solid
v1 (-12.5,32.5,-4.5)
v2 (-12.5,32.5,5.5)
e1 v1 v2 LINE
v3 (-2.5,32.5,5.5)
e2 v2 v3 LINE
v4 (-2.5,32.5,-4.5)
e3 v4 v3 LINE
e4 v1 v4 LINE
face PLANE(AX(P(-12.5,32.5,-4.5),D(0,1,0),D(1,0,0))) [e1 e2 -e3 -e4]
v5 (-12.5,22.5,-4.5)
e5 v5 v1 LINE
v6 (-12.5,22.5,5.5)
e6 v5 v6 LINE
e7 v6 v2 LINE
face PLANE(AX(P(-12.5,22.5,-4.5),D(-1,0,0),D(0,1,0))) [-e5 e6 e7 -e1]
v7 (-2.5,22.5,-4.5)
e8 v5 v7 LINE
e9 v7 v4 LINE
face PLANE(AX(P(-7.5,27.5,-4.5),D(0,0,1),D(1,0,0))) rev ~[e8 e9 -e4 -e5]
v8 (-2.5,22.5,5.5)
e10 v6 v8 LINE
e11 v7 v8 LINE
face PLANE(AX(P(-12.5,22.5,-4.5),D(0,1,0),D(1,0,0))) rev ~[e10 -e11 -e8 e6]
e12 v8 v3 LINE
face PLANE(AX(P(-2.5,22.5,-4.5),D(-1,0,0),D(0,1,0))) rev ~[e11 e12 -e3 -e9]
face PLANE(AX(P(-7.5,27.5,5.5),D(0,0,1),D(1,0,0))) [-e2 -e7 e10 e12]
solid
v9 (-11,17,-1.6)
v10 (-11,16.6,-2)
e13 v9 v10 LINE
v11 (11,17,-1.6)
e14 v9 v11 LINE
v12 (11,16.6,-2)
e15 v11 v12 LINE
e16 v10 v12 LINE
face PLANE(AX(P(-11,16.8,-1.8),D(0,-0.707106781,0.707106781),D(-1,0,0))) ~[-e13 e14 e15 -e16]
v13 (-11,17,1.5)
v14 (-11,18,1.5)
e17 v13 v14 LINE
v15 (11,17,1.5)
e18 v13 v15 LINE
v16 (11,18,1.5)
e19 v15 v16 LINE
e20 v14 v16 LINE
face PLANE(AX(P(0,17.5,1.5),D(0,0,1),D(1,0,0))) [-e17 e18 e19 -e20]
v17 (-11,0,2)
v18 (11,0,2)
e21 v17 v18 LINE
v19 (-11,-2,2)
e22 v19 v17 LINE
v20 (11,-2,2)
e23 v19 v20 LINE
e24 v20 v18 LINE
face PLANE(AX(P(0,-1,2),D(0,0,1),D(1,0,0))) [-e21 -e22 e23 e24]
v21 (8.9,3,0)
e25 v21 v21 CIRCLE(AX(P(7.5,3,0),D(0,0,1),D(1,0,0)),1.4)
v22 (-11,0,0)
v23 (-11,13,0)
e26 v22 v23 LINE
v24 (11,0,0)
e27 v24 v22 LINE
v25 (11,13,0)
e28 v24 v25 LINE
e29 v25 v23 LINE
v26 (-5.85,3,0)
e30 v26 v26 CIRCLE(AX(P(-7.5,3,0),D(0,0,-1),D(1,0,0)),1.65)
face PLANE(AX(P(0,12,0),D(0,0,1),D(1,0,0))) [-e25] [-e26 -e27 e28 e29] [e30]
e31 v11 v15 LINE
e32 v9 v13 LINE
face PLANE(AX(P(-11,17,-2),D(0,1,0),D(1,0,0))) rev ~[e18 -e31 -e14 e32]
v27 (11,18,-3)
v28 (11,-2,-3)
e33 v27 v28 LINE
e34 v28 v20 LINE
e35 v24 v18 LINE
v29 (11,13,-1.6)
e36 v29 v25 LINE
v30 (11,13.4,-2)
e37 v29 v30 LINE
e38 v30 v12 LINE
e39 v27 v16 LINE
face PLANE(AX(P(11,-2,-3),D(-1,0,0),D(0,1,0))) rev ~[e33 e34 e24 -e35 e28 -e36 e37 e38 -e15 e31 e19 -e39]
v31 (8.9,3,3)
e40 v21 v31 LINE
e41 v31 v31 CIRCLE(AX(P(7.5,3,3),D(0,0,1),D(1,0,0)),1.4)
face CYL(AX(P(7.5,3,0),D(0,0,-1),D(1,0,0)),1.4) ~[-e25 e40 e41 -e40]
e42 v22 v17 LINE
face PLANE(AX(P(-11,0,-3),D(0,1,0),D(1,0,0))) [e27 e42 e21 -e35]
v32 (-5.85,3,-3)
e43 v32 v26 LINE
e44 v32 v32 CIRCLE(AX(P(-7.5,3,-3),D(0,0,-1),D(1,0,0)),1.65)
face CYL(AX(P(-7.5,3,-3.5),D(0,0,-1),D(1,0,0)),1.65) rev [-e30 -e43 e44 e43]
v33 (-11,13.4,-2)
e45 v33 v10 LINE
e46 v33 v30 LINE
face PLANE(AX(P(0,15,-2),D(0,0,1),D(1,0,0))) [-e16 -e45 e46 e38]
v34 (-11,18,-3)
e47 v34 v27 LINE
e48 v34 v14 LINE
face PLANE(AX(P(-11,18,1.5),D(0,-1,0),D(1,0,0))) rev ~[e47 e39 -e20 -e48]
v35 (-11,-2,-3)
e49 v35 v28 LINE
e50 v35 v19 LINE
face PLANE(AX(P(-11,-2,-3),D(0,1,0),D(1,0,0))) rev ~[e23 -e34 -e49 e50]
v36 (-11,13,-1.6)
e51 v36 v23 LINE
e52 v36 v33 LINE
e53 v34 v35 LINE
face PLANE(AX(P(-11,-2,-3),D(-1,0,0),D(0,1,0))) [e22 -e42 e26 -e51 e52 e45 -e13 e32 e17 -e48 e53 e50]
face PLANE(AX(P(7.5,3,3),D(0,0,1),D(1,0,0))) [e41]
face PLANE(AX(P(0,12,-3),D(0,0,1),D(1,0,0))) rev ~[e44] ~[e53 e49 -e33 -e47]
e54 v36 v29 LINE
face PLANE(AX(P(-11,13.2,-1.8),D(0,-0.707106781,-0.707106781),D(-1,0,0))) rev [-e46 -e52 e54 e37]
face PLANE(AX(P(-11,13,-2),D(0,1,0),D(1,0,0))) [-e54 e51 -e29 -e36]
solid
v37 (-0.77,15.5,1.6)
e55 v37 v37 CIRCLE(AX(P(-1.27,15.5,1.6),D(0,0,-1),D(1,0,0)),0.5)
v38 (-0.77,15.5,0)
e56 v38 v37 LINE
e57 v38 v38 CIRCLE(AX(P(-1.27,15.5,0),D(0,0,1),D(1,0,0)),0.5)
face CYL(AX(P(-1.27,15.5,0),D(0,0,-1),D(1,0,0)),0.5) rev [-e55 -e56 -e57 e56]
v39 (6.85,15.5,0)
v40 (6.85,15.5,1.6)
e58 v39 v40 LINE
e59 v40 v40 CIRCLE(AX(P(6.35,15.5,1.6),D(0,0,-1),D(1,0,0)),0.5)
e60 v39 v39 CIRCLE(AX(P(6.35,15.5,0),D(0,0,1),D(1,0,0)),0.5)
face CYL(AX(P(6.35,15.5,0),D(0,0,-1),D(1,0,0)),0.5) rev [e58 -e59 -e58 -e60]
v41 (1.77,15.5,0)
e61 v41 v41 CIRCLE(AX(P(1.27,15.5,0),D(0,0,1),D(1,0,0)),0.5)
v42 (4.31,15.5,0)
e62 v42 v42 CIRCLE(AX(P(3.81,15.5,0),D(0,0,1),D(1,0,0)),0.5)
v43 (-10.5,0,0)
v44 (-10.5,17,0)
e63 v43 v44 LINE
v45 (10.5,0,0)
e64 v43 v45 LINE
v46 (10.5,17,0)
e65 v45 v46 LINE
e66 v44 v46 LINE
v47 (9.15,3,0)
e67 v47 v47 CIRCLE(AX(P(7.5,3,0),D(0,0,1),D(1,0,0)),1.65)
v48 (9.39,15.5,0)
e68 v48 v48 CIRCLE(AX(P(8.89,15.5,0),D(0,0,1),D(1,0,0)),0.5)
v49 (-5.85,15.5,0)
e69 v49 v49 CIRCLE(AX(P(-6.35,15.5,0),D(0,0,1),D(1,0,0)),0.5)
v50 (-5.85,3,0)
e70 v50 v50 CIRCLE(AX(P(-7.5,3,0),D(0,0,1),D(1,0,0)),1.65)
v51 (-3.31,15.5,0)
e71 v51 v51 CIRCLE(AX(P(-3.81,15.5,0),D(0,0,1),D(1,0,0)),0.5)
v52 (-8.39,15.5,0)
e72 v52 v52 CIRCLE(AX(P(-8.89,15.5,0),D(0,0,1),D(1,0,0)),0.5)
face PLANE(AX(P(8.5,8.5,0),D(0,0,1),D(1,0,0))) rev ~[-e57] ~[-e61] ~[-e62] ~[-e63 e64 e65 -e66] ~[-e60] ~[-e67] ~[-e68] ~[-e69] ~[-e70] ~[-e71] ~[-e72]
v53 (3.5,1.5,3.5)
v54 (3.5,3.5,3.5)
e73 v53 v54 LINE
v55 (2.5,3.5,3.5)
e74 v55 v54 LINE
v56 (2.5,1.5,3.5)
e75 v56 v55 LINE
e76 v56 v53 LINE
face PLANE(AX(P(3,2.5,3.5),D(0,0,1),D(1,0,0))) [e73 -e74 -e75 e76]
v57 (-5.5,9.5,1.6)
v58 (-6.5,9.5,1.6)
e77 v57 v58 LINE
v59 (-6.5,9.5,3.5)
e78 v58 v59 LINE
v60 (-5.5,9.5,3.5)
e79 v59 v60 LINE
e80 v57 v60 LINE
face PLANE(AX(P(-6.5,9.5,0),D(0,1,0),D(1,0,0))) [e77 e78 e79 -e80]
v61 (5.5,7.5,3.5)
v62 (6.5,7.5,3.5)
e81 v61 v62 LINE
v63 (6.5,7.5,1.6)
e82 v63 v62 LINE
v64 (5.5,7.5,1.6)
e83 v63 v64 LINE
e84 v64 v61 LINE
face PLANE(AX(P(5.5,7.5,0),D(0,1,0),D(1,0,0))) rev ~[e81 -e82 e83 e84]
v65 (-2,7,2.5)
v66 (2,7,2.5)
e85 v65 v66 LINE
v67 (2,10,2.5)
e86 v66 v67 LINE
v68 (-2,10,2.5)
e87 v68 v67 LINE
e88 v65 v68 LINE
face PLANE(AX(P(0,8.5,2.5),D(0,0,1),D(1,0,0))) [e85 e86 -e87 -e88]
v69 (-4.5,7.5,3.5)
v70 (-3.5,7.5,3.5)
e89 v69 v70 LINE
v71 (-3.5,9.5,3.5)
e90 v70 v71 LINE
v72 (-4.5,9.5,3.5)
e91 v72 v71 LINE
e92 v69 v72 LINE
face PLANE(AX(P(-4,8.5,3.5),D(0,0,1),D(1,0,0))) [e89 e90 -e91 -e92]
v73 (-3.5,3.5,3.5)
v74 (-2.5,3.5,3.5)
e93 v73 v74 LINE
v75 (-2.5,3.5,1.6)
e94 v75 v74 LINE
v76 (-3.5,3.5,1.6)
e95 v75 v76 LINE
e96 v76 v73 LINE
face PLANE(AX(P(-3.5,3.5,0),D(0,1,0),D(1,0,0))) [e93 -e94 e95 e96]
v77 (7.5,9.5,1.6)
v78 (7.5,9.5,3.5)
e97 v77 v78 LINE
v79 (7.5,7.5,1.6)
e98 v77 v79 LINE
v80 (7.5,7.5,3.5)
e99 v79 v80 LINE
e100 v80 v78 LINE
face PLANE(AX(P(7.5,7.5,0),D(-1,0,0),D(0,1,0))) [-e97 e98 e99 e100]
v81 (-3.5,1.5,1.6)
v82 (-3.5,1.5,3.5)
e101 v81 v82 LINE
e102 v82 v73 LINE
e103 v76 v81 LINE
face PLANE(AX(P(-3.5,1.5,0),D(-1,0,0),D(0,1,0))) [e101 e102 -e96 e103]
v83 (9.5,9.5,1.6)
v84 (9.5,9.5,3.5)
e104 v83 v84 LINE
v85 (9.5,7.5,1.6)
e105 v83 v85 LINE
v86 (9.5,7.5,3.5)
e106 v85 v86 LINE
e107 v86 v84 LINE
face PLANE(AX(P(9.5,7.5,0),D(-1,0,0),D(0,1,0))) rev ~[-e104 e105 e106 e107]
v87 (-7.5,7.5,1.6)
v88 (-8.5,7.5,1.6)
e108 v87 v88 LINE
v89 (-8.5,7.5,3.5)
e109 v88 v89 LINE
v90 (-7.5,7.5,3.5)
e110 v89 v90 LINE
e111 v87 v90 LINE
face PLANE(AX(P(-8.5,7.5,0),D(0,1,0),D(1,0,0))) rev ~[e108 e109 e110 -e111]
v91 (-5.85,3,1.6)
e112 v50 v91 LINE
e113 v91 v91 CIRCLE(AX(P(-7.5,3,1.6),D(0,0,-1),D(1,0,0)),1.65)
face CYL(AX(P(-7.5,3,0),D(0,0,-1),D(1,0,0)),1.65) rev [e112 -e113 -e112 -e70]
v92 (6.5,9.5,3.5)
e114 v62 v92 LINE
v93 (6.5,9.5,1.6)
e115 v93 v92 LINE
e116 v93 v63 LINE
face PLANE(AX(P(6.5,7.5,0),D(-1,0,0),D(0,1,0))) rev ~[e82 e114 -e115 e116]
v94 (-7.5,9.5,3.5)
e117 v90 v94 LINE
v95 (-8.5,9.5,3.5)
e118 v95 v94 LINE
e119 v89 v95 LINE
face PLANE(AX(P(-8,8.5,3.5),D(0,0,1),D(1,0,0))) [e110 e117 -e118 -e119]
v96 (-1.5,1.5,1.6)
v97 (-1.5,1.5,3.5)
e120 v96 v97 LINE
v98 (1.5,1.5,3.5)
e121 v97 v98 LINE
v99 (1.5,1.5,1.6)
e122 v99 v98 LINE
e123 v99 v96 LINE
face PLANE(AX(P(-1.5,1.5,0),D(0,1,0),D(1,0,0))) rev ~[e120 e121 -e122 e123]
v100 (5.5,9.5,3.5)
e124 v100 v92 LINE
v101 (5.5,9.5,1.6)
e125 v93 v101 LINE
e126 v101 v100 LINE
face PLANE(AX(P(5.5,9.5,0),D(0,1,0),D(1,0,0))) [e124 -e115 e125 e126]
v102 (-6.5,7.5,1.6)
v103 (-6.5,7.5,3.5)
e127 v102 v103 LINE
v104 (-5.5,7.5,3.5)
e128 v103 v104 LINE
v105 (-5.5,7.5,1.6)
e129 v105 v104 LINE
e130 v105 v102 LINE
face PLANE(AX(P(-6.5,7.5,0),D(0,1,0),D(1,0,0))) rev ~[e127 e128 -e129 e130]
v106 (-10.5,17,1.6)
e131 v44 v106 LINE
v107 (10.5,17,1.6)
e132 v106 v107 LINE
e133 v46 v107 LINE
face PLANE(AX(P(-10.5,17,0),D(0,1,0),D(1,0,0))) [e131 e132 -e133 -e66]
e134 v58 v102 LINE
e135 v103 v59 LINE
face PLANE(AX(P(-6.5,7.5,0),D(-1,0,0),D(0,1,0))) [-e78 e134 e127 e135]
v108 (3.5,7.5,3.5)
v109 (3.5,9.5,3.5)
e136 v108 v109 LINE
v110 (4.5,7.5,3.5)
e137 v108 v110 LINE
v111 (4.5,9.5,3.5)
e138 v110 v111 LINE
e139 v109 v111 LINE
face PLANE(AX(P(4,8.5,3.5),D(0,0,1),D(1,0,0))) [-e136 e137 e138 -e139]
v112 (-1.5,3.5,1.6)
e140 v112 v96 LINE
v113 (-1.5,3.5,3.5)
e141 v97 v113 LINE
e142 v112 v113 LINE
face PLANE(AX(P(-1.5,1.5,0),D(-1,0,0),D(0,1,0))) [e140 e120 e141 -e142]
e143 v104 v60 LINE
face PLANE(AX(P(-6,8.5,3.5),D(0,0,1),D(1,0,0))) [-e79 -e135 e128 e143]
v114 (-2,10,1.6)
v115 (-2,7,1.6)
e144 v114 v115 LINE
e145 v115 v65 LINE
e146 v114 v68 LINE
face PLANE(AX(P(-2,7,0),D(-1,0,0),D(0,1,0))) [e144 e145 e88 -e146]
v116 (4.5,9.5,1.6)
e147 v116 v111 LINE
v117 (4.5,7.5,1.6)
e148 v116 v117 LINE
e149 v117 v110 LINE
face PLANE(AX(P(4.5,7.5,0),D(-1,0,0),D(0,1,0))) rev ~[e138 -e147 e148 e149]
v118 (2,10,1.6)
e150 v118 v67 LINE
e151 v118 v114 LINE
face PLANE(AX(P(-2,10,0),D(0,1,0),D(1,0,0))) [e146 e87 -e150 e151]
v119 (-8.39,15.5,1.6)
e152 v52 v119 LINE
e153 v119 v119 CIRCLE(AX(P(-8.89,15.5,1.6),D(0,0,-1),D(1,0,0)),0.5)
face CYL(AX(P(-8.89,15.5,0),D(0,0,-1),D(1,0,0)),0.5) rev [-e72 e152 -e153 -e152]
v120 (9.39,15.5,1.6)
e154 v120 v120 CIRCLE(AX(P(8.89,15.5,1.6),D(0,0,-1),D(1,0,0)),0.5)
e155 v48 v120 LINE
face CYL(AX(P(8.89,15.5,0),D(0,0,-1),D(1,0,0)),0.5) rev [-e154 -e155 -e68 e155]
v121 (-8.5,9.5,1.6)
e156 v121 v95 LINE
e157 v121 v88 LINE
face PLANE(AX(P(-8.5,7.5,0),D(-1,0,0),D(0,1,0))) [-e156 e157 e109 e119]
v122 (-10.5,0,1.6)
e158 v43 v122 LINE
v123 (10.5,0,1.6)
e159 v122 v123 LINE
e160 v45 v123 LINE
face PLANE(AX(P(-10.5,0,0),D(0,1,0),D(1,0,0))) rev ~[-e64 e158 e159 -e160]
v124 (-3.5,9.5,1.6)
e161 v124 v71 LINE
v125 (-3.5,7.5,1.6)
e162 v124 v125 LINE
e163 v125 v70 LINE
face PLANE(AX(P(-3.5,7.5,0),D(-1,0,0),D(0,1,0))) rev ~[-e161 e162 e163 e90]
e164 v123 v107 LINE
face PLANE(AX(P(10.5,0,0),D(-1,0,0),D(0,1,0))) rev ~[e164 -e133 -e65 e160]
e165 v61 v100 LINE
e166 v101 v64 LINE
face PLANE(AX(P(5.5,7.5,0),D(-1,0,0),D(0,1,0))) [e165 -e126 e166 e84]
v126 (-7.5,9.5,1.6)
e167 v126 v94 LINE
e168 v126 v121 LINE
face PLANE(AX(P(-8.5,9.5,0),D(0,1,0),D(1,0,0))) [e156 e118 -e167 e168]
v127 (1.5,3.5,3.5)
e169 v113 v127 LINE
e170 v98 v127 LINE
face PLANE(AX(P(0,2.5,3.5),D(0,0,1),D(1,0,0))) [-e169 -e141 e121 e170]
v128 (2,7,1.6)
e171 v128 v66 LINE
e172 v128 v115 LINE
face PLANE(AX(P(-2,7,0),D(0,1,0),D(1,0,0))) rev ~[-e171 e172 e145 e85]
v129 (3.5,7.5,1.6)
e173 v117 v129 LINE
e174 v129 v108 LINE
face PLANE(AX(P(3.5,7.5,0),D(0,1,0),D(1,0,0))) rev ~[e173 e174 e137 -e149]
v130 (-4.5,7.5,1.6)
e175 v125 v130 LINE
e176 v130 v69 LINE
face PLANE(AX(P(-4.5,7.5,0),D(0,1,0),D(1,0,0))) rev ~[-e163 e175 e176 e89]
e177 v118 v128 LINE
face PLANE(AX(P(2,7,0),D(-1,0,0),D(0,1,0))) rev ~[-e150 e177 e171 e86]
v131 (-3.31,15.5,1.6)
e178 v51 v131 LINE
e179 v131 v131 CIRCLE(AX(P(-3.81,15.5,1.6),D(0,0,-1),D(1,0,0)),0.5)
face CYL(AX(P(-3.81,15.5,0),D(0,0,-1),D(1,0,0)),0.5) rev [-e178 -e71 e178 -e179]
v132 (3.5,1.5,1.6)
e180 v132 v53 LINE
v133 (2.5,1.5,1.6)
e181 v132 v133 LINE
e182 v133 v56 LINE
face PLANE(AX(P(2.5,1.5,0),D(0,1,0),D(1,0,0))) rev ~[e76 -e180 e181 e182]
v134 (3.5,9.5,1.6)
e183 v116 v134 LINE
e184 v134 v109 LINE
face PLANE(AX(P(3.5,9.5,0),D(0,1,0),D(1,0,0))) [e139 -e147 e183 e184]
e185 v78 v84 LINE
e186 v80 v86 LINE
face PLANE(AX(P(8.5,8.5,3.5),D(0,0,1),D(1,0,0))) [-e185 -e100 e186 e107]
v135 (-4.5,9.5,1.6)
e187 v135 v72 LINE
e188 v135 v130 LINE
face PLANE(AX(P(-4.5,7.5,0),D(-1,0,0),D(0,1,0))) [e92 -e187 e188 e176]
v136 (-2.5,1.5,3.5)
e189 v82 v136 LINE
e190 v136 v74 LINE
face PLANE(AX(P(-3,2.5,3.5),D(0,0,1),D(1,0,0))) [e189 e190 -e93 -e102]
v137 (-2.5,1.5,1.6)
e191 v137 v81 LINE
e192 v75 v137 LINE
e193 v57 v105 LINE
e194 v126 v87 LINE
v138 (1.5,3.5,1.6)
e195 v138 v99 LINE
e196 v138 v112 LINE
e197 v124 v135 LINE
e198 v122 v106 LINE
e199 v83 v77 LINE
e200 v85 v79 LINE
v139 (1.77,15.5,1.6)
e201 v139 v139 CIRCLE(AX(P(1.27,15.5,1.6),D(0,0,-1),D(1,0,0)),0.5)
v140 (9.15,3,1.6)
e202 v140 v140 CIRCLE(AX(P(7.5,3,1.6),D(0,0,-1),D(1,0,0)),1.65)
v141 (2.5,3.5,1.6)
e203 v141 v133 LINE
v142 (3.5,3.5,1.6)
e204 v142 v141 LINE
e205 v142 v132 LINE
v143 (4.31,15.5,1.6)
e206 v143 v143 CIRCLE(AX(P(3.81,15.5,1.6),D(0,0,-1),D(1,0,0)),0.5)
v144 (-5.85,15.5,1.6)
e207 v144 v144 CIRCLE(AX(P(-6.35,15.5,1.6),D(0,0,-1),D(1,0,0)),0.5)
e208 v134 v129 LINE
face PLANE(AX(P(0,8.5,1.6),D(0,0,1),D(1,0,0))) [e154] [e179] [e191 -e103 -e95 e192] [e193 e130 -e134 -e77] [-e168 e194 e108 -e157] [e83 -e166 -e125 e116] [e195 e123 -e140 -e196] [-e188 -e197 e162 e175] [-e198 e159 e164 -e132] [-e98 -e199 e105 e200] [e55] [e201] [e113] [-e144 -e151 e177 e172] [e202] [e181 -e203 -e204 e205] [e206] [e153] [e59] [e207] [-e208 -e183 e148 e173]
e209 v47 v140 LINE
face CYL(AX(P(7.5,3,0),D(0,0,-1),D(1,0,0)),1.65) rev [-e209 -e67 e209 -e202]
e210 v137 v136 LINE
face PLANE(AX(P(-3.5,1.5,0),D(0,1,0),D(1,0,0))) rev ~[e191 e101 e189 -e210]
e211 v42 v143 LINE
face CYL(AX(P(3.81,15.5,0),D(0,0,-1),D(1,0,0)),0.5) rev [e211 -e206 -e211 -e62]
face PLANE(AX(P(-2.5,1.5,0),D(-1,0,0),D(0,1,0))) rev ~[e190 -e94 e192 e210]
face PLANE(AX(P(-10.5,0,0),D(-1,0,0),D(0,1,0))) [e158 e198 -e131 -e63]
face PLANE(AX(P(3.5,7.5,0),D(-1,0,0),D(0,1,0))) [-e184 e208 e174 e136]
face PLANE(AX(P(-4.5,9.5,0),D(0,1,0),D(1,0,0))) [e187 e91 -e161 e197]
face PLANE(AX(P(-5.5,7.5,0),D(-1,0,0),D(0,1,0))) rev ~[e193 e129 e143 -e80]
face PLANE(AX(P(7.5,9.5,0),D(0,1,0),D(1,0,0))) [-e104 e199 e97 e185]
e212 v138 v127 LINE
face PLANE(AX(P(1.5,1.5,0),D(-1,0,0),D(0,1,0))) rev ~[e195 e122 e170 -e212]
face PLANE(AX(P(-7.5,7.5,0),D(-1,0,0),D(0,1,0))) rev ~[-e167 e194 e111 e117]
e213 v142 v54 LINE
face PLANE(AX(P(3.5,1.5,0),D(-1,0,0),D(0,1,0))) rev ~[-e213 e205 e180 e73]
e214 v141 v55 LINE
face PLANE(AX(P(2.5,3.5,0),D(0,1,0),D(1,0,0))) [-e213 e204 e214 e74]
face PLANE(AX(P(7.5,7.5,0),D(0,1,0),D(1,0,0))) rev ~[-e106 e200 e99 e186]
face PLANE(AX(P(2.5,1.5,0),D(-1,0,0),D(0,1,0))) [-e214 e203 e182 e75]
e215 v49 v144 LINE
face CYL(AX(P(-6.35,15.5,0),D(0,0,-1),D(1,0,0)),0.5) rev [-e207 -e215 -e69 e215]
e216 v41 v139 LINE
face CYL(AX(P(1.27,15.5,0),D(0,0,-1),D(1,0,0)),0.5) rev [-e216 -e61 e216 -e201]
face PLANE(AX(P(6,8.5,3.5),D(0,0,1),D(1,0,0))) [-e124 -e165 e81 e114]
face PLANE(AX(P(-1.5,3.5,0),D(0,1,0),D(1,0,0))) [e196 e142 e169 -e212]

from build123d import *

# Parameters (mm, degrees)
BOX016_W          = 10
BOX016_H          = 10
BOX016_DEPTH      = 10
BOX001_W          = 4
BOX001_H          = 3
BOX001_DEPTH      = 2.5
BOX002_W          = 3
BOX002_H          = 2
BOX002_DEPTH      = 3.5
BOX003_W          = 1
BOX003_H          = 2
BOX003_DEPTH      = 3.5
BOX004_W          = 1
BOX004_H          = 2
BOX004_DEPTH      = 3.5
BOX005_W          = 1
BOX005_H          = 2
BOX005_DEPTH      = 3.5
BOX006_W          = 1
BOX006_H          = 2
BOX006_DEPTH      = 3.5
BOX007_W          = 1
BOX007_H          = 2
BOX007_DEPTH      = 3.5
BOX008_W          = 1
BOX008_H          = 2
BOX008_DEPTH      = 3.5
BOX009_W          = 1
BOX009_H          = 2
BOX009_DEPTH      = 3.5
BOX010_W          = 2
BOX010_H          = 2
BOX010_DEPTH      = 3.5
CYLINDER007_R     = 0.5
CYLINDER007_DEPTH = 10
CYLINDER008_R     = 0.5
CYLINDER008_DEPTH = 10
CYLINDER006_R     = 0.5
CYLINDER006_DEPTH = 10
CYLINDER005_R     = 0.5
CYLINDER005_DEPTH = 10
CYLINDER004_R     = 0.5
CYLINDER004_DEPTH = 10
CYLINDER003_R     = 0.5
CYLINDER003_DEPTH = 10
CYLINDER002_R     = 0.5
CYLINDER002_DEPTH = 10
CYLINDER009_R     = 0.5
CYLINDER009_DEPTH = 10
CYLINDER001_R     = 1.65
CYLINDER001_DEPTH = 10
CYLINDER_R        = 1.65
CYLINDER_DEPTH    = 10
BOX_W             = 21
BOX_H             = 17
BOX_DEPTH         = 1.6
BOX018_W          = 6
BOX018_H          = 10
BOX018_DEPTH      = 10
BOX017_W          = 3.3
BOX017_H          = 10
BOX017_DEPTH      = 10
CYLINDER014_R     = 1.65
CYLINDER014_DEPTH = 10
CYLINDER011_R     = 3
CYLINDER011_DEPTH = 10
CYLINDER012_R     = 1.4
CYLINDER012_DEPTH = 3
CYLINDER013_R     = 1.65
CYLINDER013_DEPTH = 10
BOX014_W          = 16
BOX014_H          = 12
BOX014_DEPTH      = 10
BOX013_W          = 22
BOX013_H          = 4
BOX013_DEPTH      = 5
CHAMFER_SIZE      = 0.4
BOX011_W          = 22
BOX011_H          = 28
BOX011_DEPTH      = 3
BOX012_W          = 22
BOX012_H          = 2
BOX012_DEPTH      = 5
BOX015_W          = 22
BOX015_H          = 1
BOX015_DEPTH      = 1.5
CHAMFER001_SIZE   = 1
CHAMFER002_SIZE   = 0.4
SKETCH_W          = 7
SKETCH_H          = 8
POCKET_DEPTH      = 4.501


with BuildPart() as cube016:
    # Box016 → Box016 (new body)
    with BuildSketch(Plane(origin=(-12.5, 22.5, -4.5), x_dir=(1, 0, 0), z_dir=(0, 0, 1))):
        with Locations((5, 5)):
            Rectangle(BOX016_W, BOX016_H)
    extrude(amount=BOX016_DEPTH)


with BuildPart() as cube001:
    # Box001 → Box001 (new body)
    with BuildSketch(Plane(origin=(-2, 7, 0), x_dir=(1, 0, 0), z_dir=(0, 0, 1))):
        with Locations((2, 1.5)):
            Rectangle(BOX001_W, BOX001_H)
    extrude(amount=BOX001_DEPTH)


with BuildPart() as cube002:
    # Box002 → Box002 (new body)
    with BuildSketch(Plane(origin=(-1.5, 1.5, 0), x_dir=(1, 0, 0), z_dir=(0, 0, 1))):
        with Locations((1.5, 1)):
            Rectangle(BOX002_W, BOX002_H)
    extrude(amount=BOX002_DEPTH)


with BuildPart() as cube003:
    # Box003 → Box003 (new body)
    with BuildSketch(Plane(origin=(-3.5, 1.5, 0), x_dir=(1, 0, 0), z_dir=(0, 0, 1))):
        with Locations((0.5, 1)):
            Rectangle(BOX003_W, BOX003_H)
    extrude(amount=BOX003_DEPTH)


with BuildPart() as cube004:
    # Box004 → Box004 (new body)
    with BuildSketch(Plane(origin=(2.5, 1.5, 0), x_dir=(1, 0, 0), z_dir=(0, 0, 1))):
        with Locations((0.5, 1)):
            Rectangle(BOX004_W, BOX004_H)
    extrude(amount=BOX004_DEPTH)


with BuildPart() as cube005:
    # Box005 → Box005 (new body)
    with BuildSketch(Plane(origin=(-4.5, 7.5, 0), x_dir=(1, 0, 0), z_dir=(0, 0, 1))):
        with Locations((0.5, 1)):
            Rectangle(BOX005_W, BOX005_H)
    extrude(amount=BOX005_DEPTH)


with BuildPart() as cube006:
    # Box006 → Box006 (new body)
    with BuildSketch(Plane(origin=(-6.5, 7.5, 0), x_dir=(1, 0, 0), z_dir=(0, 0, 1))):
        with Locations((0.5, 1)):
            Rectangle(BOX006_W, BOX006_H)
    extrude(amount=BOX006_DEPTH)


with BuildPart() as cube007:
    # Box007 → Box007 (new body)
    with BuildSketch(Plane(origin=(-8.5, 7.5, 0), x_dir=(1, 0, 0), z_dir=(0, 0, 1))):
        with Locations((0.5, 1)):
            Rectangle(BOX007_W, BOX007_H)
    extrude(amount=BOX007_DEPTH)


with BuildPart() as cube008:
    # Box008 → Box008 (new body)
    with BuildSketch(Plane(origin=(3.5, 7.5, 0), x_dir=(1, 0, 0), z_dir=(0, 0, 1))):
        with Locations((0.5, 1)):
            Rectangle(BOX008_W, BOX008_H)
    extrude(amount=BOX008_DEPTH)


with BuildPart() as cube009:
    # Box009 → Box009 (new body)
    with BuildSketch(Plane(origin=(5.5, 7.5, 0), x_dir=(1, 0, 0), z_dir=(0, 0, 1))):
        with Locations((0.5, 1)):
            Rectangle(BOX009_W, BOX009_H)
    extrude(amount=BOX009_DEPTH)


with BuildPart() as cube010:
    # Box010 → Box010 (new body)
    with BuildSketch(Plane(origin=(7.5, 7.5, 0), x_dir=(1, 0, 0), z_dir=(0, 0, 1))):
        with Locations((1, 1)):
            Rectangle(BOX010_W, BOX010_H)
    extrude(amount=BOX010_DEPTH)


with BuildPart() as cylinder007:
    # Cylinder007 → Cylinder007 (new body)
    with BuildSketch(Plane(origin=(6.35, 15, 0), x_dir=(1, 0, 0), z_dir=(0, 0, 1))):
        Circle(CYLINDER007_R)
    extrude(amount=CYLINDER007_DEPTH)


with BuildPart() as cylinder008:
    # Cylinder008 → Cylinder008 (new body)
    with BuildSketch(Plane(origin=(8.89, 15, 0), x_dir=(1, 0, 0), z_dir=(0, 0, 1))):
        Circle(CYLINDER008_R)
    extrude(amount=CYLINDER008_DEPTH)


with BuildPart() as cylinder006:
    # Cylinder006 → Cylinder006 (new body)
    with BuildSketch(Plane(origin=(-6.35, 15, 0), x_dir=(1, 0, 0), z_dir=(0, 0, 1))):
        Circle(CYLINDER006_R)
    extrude(amount=CYLINDER006_DEPTH)


with BuildPart() as cylinder005:
    # Cylinder005 → Cylinder005 (new body)
    with BuildSketch(Plane(origin=(-3.81, 15, 0), x_dir=(1, 0, 0), z_dir=(0, 0, 1))):
        Circle(CYLINDER005_R)
    extrude(amount=CYLINDER005_DEPTH)


with BuildPart() as cylinder004:
    # Cylinder004 → Cylinder004 (new body)
    with BuildSketch(Plane(origin=(3.81, 15, 0), x_dir=(1, 0, 0), z_dir=(0, 0, 1))):
        Circle(CYLINDER004_R)
    extrude(amount=CYLINDER004_DEPTH)


with BuildPart() as cylinder003:
    # Cylinder003 → Cylinder003 (new body)
    with BuildSketch(Plane(origin=(1.27, 15, 0), x_dir=(1, 0, 0), z_dir=(0, 0, 1))):
        Circle(CYLINDER003_R)
    extrude(amount=CYLINDER003_DEPTH)


with BuildPart() as cylinder002:
    # Cylinder002 → Cylinder002 (new body)
    with BuildSketch(Plane(origin=(-1.27, 15, 0), x_dir=(1, 0, 0), z_dir=(0, 0, 1))):
        Circle(CYLINDER002_R)
    extrude(amount=CYLINDER002_DEPTH)


with BuildPart() as fusion001:
    # Cylinder009 → Cylinder009 (new body)
    with BuildSketch(Plane(origin=(-8.89, 15, 0), x_dir=(1, 0, 0), z_dir=(0, 0, 1))):
        Circle(CYLINDER009_R)
    extrude(amount=CYLINDER009_DEPTH)

    # Fusion001: union Cylinder007, Cylinder008, Cylinder006, Cylinder005, Cylinder004, Cylinder003, Cylinder002
    add(cylinder007.part)
    add(cylinder008.part)
    add(cylinder006.part)
    add(cylinder005.part)
    add(cylinder004.part)
    add(cylinder003.part)
    add(cylinder002.part)


with BuildPart() as fusion001_1:
    # Fusion001 placement: moved
    add(fusion001.part.moved(Location((0, 0.5, 0))))


with BuildPart() as cylinder001:
    # Cylinder001 → Cylinder001 (new body)
    with BuildSketch(Plane(origin=(7.5, 2.5, 0), x_dir=(1, 0, 0), z_dir=(0, 0, 1))):
        Circle(CYLINDER001_R)
    extrude(amount=CYLINDER001_DEPTH)


with BuildPart() as fusion:
    # Cylinder → Cylinder (new body)
    with BuildSketch(Plane(origin=(-7.5, 2.5, 0), x_dir=(1, 0, 0), z_dir=(0, 0, 1))):
        Circle(CYLINDER_R)
    extrude(amount=CYLINDER_DEPTH)

    # Fusion: union Cylinder001
    add(cylinder001.part)


with BuildPart() as fusion_1:
    # Fusion placement: moved
    add(fusion.part.moved(Location((0, 0.5, 0))))


with BuildPart() as adxl345:
    # Box → Box (new body)
    with BuildSketch(Plane(origin=(-10.5, 0, 0), x_dir=(1, 0, 0), z_dir=(0, 0, 1))):
        with Locations((10.5, 8.5)):
            Rectangle(BOX_W, BOX_H)
    extrude(amount=BOX_DEPTH)

    # Cut: cut Fusion
    add(fusion_1.part, mode=Mode.SUBTRACT)

    # Cut008: cut Fusion001
    add(fusion001_1.part, mode=Mode.SUBTRACT)

    # Fusion002007: union Cube001, Cube002, Cube003, Cube004, Cube005, Cube006, Cube007, Cube008, Cube009, Cube010
    add(cube001.part)
    add(cube002.part)
    add(cube003.part)
    add(cube004.part)
    add(cube005.part)
    add(cube006.part)
    add(cube007.part)
    add(cube008.part)
    add(cube009.part)
    add(cube010.part)


with BuildPart() as cube018:
    # Box018 → Box018 (new body)
    with BuildSketch(Plane(origin=(-10.5, 22.5, -1.5), x_dir=(1, 0, 0), z_dir=(0, 0, 1))):
        with Locations((3, 5)):
            Rectangle(BOX018_W, BOX018_H)
    extrude(amount=BOX018_DEPTH)


with BuildPart() as cube017:
    # Box017 → Box017 (new body)
    with BuildSketch(Plane(origin=(-9.15, 22.5, -11.5), x_dir=(1, 0, 0), z_dir=(0, 0, 1))):
        with Locations((1.65, 5)):
            Rectangle(BOX017_W, BOX017_H)
    extrude(amount=BOX017_DEPTH)


with BuildPart() as cylinder014:
    # Cylinder014 → Cylinder014 (new body)
    with BuildSketch(Plane(origin=(-7.5, 22.5, -6.5), x_dir=(1, 0, 0), z_dir=(0, 0, 1))):
        Circle(CYLINDER014_R)
    extrude(amount=CYLINDER014_DEPTH)


with BuildPart() as cylinder011:
    # Cylinder011 → Cylinder011 (new body)
    with BuildSketch(Plane(origin=(-7.5, 22.5, -1.5), x_dir=(1, 0, 0), z_dir=(0, 0, 1))):
        Circle(CYLINDER011_R)
    extrude(amount=CYLINDER011_DEPTH)


with BuildPart() as cylinder012:
    # Cylinder012 → Cylinder012 (new body)
    with BuildSketch(Plane(origin=(7.5, 3, 0), x_dir=(1, 0, 0), z_dir=(0, 0, 1))):
        Circle(CYLINDER012_R)
    extrude(amount=CYLINDER012_DEPTH)


with BuildPart() as cylinder013:
    # Cylinder013 → Cylinder013 (new body)
    with BuildSketch(Plane(origin=(-7.5, 3, -3.5), x_dir=(1, 0, 0), z_dir=(0, 0, 1))):
        Circle(CYLINDER013_R)
    extrude(amount=CYLINDER013_DEPTH)


with BuildPart() as cube014:
    # Box014 → Box014 (new body)
    with BuildSketch(Plane(origin=(-4, 18, -4.5), x_dir=(1, 0, 0), z_dir=(0, 0, 1))):
        with Locations((8, 6)):
            Rectangle(BOX014_W, BOX014_H)
    extrude(amount=BOX014_DEPTH)


with BuildPart() as chamfer_body:
    # Box013 → Box013 (new body)
    with BuildSketch(Plane(origin=(-11, 13, -2), x_dir=(1, 0, 0), z_dir=(0, 0, 1))):
        with Locations((11, 2)):
            Rectangle(BOX013_W, BOX013_H)
    extrude(amount=BOX013_DEPTH)

    # Chamfer
    chamfer_edges = [chamfer_body.edges().sort_by_distance(p)[0] for p in [
        (0, 13, -2),
        (0, 17, -2),
    ]]
    chamfer(chamfer_edges, length=CHAMFER_SIZE)


with BuildPart() as cut011:
    # Box011 → Box011 (new body)
    with BuildSketch(Plane(origin=(-11, -2, -3), x_dir=(1, 0, 0), z_dir=(0, 0, 1))):
        with Locations((11, 14)):
            Rectangle(BOX011_W, BOX011_H)
    extrude(amount=BOX011_DEPTH)

    # Cut002: cut Chamfer body
    add(chamfer_body.part, mode=Mode.SUBTRACT)

    # Cut003: cut Cube014
    add(cube014.part, mode=Mode.SUBTRACT)

    # Cut009: cut Cylinder013
    add(cylinder013.part, mode=Mode.SUBTRACT)

    # Fusion002008: union Cylinder012
    add(cylinder012.part)

    # Cut010: cut Cylinder011
    add(cylinder011.part, mode=Mode.SUBTRACT)

    # Cut011: cut Cylinder014
    add(cylinder014.part, mode=Mode.SUBTRACT)


with BuildPart() as cube012:
    # Box012 → Box012 (new body)
    with BuildSketch(Plane(origin=(-11, -2, -3), x_dir=(1, 0, 0), z_dir=(0, 0, 1))):
        with Locations((11, 1)):
            Rectangle(BOX012_W, BOX012_H)
    extrude(amount=BOX012_DEPTH)


with BuildPart() as body:
    # Box015 → Box015 (new body)
    with BuildSketch(Plane(origin=(-11, 17, 0), x_dir=(1, 0, 0), z_dir=(0, 0, 1))):
        with Locations((11, 0.5)):
            Rectangle(BOX015_W, BOX015_H)
    extrude(amount=BOX015_DEPTH)

    # Fusion002009: union Cut011, Cube012
    add(cut011.part)
    add(cube012.part)

    # Chamfer001
    chamfer001_edges = [body.edges().sort_by_distance(p)[0] for p in [
        (-7.5, 18, 0),
    ]]
    chamfer(chamfer001_edges, length=CHAMFER001_SIZE)

    # Cut012: cut Cube017
    add(cube017.part, mode=Mode.SUBTRACT)

    # Cut013: cut Cube018
    add(cube018.part, mode=Mode.SUBTRACT)

    # Chamfer002
    chamfer002_edges = [body.edges().sort_by_distance(p)[0] for p in [
        (-9.15, 26, -2.25),
        (-9.825, 26, -1.5),
        (-5.85, 26, -2.25),
        (-5.175, 26, -1.5),
    ]]
    chamfer(chamfer002_edges, length=CHAMFER002_SIZE)

    # Sketch (on Face39 of BaseFeature) → Pocket (cut, through all)
    with BuildSketch(Plane.XY.offset(1.5)):
        with Locations((-7.5, 22)):
            Rectangle(SKETCH_W, SKETCH_H)
    extrude(amount=-POCKET_DEPTH, mode=Mode.SUBTRACT)


solid = Compound([cube016.part, adxl345.part, body.part])
